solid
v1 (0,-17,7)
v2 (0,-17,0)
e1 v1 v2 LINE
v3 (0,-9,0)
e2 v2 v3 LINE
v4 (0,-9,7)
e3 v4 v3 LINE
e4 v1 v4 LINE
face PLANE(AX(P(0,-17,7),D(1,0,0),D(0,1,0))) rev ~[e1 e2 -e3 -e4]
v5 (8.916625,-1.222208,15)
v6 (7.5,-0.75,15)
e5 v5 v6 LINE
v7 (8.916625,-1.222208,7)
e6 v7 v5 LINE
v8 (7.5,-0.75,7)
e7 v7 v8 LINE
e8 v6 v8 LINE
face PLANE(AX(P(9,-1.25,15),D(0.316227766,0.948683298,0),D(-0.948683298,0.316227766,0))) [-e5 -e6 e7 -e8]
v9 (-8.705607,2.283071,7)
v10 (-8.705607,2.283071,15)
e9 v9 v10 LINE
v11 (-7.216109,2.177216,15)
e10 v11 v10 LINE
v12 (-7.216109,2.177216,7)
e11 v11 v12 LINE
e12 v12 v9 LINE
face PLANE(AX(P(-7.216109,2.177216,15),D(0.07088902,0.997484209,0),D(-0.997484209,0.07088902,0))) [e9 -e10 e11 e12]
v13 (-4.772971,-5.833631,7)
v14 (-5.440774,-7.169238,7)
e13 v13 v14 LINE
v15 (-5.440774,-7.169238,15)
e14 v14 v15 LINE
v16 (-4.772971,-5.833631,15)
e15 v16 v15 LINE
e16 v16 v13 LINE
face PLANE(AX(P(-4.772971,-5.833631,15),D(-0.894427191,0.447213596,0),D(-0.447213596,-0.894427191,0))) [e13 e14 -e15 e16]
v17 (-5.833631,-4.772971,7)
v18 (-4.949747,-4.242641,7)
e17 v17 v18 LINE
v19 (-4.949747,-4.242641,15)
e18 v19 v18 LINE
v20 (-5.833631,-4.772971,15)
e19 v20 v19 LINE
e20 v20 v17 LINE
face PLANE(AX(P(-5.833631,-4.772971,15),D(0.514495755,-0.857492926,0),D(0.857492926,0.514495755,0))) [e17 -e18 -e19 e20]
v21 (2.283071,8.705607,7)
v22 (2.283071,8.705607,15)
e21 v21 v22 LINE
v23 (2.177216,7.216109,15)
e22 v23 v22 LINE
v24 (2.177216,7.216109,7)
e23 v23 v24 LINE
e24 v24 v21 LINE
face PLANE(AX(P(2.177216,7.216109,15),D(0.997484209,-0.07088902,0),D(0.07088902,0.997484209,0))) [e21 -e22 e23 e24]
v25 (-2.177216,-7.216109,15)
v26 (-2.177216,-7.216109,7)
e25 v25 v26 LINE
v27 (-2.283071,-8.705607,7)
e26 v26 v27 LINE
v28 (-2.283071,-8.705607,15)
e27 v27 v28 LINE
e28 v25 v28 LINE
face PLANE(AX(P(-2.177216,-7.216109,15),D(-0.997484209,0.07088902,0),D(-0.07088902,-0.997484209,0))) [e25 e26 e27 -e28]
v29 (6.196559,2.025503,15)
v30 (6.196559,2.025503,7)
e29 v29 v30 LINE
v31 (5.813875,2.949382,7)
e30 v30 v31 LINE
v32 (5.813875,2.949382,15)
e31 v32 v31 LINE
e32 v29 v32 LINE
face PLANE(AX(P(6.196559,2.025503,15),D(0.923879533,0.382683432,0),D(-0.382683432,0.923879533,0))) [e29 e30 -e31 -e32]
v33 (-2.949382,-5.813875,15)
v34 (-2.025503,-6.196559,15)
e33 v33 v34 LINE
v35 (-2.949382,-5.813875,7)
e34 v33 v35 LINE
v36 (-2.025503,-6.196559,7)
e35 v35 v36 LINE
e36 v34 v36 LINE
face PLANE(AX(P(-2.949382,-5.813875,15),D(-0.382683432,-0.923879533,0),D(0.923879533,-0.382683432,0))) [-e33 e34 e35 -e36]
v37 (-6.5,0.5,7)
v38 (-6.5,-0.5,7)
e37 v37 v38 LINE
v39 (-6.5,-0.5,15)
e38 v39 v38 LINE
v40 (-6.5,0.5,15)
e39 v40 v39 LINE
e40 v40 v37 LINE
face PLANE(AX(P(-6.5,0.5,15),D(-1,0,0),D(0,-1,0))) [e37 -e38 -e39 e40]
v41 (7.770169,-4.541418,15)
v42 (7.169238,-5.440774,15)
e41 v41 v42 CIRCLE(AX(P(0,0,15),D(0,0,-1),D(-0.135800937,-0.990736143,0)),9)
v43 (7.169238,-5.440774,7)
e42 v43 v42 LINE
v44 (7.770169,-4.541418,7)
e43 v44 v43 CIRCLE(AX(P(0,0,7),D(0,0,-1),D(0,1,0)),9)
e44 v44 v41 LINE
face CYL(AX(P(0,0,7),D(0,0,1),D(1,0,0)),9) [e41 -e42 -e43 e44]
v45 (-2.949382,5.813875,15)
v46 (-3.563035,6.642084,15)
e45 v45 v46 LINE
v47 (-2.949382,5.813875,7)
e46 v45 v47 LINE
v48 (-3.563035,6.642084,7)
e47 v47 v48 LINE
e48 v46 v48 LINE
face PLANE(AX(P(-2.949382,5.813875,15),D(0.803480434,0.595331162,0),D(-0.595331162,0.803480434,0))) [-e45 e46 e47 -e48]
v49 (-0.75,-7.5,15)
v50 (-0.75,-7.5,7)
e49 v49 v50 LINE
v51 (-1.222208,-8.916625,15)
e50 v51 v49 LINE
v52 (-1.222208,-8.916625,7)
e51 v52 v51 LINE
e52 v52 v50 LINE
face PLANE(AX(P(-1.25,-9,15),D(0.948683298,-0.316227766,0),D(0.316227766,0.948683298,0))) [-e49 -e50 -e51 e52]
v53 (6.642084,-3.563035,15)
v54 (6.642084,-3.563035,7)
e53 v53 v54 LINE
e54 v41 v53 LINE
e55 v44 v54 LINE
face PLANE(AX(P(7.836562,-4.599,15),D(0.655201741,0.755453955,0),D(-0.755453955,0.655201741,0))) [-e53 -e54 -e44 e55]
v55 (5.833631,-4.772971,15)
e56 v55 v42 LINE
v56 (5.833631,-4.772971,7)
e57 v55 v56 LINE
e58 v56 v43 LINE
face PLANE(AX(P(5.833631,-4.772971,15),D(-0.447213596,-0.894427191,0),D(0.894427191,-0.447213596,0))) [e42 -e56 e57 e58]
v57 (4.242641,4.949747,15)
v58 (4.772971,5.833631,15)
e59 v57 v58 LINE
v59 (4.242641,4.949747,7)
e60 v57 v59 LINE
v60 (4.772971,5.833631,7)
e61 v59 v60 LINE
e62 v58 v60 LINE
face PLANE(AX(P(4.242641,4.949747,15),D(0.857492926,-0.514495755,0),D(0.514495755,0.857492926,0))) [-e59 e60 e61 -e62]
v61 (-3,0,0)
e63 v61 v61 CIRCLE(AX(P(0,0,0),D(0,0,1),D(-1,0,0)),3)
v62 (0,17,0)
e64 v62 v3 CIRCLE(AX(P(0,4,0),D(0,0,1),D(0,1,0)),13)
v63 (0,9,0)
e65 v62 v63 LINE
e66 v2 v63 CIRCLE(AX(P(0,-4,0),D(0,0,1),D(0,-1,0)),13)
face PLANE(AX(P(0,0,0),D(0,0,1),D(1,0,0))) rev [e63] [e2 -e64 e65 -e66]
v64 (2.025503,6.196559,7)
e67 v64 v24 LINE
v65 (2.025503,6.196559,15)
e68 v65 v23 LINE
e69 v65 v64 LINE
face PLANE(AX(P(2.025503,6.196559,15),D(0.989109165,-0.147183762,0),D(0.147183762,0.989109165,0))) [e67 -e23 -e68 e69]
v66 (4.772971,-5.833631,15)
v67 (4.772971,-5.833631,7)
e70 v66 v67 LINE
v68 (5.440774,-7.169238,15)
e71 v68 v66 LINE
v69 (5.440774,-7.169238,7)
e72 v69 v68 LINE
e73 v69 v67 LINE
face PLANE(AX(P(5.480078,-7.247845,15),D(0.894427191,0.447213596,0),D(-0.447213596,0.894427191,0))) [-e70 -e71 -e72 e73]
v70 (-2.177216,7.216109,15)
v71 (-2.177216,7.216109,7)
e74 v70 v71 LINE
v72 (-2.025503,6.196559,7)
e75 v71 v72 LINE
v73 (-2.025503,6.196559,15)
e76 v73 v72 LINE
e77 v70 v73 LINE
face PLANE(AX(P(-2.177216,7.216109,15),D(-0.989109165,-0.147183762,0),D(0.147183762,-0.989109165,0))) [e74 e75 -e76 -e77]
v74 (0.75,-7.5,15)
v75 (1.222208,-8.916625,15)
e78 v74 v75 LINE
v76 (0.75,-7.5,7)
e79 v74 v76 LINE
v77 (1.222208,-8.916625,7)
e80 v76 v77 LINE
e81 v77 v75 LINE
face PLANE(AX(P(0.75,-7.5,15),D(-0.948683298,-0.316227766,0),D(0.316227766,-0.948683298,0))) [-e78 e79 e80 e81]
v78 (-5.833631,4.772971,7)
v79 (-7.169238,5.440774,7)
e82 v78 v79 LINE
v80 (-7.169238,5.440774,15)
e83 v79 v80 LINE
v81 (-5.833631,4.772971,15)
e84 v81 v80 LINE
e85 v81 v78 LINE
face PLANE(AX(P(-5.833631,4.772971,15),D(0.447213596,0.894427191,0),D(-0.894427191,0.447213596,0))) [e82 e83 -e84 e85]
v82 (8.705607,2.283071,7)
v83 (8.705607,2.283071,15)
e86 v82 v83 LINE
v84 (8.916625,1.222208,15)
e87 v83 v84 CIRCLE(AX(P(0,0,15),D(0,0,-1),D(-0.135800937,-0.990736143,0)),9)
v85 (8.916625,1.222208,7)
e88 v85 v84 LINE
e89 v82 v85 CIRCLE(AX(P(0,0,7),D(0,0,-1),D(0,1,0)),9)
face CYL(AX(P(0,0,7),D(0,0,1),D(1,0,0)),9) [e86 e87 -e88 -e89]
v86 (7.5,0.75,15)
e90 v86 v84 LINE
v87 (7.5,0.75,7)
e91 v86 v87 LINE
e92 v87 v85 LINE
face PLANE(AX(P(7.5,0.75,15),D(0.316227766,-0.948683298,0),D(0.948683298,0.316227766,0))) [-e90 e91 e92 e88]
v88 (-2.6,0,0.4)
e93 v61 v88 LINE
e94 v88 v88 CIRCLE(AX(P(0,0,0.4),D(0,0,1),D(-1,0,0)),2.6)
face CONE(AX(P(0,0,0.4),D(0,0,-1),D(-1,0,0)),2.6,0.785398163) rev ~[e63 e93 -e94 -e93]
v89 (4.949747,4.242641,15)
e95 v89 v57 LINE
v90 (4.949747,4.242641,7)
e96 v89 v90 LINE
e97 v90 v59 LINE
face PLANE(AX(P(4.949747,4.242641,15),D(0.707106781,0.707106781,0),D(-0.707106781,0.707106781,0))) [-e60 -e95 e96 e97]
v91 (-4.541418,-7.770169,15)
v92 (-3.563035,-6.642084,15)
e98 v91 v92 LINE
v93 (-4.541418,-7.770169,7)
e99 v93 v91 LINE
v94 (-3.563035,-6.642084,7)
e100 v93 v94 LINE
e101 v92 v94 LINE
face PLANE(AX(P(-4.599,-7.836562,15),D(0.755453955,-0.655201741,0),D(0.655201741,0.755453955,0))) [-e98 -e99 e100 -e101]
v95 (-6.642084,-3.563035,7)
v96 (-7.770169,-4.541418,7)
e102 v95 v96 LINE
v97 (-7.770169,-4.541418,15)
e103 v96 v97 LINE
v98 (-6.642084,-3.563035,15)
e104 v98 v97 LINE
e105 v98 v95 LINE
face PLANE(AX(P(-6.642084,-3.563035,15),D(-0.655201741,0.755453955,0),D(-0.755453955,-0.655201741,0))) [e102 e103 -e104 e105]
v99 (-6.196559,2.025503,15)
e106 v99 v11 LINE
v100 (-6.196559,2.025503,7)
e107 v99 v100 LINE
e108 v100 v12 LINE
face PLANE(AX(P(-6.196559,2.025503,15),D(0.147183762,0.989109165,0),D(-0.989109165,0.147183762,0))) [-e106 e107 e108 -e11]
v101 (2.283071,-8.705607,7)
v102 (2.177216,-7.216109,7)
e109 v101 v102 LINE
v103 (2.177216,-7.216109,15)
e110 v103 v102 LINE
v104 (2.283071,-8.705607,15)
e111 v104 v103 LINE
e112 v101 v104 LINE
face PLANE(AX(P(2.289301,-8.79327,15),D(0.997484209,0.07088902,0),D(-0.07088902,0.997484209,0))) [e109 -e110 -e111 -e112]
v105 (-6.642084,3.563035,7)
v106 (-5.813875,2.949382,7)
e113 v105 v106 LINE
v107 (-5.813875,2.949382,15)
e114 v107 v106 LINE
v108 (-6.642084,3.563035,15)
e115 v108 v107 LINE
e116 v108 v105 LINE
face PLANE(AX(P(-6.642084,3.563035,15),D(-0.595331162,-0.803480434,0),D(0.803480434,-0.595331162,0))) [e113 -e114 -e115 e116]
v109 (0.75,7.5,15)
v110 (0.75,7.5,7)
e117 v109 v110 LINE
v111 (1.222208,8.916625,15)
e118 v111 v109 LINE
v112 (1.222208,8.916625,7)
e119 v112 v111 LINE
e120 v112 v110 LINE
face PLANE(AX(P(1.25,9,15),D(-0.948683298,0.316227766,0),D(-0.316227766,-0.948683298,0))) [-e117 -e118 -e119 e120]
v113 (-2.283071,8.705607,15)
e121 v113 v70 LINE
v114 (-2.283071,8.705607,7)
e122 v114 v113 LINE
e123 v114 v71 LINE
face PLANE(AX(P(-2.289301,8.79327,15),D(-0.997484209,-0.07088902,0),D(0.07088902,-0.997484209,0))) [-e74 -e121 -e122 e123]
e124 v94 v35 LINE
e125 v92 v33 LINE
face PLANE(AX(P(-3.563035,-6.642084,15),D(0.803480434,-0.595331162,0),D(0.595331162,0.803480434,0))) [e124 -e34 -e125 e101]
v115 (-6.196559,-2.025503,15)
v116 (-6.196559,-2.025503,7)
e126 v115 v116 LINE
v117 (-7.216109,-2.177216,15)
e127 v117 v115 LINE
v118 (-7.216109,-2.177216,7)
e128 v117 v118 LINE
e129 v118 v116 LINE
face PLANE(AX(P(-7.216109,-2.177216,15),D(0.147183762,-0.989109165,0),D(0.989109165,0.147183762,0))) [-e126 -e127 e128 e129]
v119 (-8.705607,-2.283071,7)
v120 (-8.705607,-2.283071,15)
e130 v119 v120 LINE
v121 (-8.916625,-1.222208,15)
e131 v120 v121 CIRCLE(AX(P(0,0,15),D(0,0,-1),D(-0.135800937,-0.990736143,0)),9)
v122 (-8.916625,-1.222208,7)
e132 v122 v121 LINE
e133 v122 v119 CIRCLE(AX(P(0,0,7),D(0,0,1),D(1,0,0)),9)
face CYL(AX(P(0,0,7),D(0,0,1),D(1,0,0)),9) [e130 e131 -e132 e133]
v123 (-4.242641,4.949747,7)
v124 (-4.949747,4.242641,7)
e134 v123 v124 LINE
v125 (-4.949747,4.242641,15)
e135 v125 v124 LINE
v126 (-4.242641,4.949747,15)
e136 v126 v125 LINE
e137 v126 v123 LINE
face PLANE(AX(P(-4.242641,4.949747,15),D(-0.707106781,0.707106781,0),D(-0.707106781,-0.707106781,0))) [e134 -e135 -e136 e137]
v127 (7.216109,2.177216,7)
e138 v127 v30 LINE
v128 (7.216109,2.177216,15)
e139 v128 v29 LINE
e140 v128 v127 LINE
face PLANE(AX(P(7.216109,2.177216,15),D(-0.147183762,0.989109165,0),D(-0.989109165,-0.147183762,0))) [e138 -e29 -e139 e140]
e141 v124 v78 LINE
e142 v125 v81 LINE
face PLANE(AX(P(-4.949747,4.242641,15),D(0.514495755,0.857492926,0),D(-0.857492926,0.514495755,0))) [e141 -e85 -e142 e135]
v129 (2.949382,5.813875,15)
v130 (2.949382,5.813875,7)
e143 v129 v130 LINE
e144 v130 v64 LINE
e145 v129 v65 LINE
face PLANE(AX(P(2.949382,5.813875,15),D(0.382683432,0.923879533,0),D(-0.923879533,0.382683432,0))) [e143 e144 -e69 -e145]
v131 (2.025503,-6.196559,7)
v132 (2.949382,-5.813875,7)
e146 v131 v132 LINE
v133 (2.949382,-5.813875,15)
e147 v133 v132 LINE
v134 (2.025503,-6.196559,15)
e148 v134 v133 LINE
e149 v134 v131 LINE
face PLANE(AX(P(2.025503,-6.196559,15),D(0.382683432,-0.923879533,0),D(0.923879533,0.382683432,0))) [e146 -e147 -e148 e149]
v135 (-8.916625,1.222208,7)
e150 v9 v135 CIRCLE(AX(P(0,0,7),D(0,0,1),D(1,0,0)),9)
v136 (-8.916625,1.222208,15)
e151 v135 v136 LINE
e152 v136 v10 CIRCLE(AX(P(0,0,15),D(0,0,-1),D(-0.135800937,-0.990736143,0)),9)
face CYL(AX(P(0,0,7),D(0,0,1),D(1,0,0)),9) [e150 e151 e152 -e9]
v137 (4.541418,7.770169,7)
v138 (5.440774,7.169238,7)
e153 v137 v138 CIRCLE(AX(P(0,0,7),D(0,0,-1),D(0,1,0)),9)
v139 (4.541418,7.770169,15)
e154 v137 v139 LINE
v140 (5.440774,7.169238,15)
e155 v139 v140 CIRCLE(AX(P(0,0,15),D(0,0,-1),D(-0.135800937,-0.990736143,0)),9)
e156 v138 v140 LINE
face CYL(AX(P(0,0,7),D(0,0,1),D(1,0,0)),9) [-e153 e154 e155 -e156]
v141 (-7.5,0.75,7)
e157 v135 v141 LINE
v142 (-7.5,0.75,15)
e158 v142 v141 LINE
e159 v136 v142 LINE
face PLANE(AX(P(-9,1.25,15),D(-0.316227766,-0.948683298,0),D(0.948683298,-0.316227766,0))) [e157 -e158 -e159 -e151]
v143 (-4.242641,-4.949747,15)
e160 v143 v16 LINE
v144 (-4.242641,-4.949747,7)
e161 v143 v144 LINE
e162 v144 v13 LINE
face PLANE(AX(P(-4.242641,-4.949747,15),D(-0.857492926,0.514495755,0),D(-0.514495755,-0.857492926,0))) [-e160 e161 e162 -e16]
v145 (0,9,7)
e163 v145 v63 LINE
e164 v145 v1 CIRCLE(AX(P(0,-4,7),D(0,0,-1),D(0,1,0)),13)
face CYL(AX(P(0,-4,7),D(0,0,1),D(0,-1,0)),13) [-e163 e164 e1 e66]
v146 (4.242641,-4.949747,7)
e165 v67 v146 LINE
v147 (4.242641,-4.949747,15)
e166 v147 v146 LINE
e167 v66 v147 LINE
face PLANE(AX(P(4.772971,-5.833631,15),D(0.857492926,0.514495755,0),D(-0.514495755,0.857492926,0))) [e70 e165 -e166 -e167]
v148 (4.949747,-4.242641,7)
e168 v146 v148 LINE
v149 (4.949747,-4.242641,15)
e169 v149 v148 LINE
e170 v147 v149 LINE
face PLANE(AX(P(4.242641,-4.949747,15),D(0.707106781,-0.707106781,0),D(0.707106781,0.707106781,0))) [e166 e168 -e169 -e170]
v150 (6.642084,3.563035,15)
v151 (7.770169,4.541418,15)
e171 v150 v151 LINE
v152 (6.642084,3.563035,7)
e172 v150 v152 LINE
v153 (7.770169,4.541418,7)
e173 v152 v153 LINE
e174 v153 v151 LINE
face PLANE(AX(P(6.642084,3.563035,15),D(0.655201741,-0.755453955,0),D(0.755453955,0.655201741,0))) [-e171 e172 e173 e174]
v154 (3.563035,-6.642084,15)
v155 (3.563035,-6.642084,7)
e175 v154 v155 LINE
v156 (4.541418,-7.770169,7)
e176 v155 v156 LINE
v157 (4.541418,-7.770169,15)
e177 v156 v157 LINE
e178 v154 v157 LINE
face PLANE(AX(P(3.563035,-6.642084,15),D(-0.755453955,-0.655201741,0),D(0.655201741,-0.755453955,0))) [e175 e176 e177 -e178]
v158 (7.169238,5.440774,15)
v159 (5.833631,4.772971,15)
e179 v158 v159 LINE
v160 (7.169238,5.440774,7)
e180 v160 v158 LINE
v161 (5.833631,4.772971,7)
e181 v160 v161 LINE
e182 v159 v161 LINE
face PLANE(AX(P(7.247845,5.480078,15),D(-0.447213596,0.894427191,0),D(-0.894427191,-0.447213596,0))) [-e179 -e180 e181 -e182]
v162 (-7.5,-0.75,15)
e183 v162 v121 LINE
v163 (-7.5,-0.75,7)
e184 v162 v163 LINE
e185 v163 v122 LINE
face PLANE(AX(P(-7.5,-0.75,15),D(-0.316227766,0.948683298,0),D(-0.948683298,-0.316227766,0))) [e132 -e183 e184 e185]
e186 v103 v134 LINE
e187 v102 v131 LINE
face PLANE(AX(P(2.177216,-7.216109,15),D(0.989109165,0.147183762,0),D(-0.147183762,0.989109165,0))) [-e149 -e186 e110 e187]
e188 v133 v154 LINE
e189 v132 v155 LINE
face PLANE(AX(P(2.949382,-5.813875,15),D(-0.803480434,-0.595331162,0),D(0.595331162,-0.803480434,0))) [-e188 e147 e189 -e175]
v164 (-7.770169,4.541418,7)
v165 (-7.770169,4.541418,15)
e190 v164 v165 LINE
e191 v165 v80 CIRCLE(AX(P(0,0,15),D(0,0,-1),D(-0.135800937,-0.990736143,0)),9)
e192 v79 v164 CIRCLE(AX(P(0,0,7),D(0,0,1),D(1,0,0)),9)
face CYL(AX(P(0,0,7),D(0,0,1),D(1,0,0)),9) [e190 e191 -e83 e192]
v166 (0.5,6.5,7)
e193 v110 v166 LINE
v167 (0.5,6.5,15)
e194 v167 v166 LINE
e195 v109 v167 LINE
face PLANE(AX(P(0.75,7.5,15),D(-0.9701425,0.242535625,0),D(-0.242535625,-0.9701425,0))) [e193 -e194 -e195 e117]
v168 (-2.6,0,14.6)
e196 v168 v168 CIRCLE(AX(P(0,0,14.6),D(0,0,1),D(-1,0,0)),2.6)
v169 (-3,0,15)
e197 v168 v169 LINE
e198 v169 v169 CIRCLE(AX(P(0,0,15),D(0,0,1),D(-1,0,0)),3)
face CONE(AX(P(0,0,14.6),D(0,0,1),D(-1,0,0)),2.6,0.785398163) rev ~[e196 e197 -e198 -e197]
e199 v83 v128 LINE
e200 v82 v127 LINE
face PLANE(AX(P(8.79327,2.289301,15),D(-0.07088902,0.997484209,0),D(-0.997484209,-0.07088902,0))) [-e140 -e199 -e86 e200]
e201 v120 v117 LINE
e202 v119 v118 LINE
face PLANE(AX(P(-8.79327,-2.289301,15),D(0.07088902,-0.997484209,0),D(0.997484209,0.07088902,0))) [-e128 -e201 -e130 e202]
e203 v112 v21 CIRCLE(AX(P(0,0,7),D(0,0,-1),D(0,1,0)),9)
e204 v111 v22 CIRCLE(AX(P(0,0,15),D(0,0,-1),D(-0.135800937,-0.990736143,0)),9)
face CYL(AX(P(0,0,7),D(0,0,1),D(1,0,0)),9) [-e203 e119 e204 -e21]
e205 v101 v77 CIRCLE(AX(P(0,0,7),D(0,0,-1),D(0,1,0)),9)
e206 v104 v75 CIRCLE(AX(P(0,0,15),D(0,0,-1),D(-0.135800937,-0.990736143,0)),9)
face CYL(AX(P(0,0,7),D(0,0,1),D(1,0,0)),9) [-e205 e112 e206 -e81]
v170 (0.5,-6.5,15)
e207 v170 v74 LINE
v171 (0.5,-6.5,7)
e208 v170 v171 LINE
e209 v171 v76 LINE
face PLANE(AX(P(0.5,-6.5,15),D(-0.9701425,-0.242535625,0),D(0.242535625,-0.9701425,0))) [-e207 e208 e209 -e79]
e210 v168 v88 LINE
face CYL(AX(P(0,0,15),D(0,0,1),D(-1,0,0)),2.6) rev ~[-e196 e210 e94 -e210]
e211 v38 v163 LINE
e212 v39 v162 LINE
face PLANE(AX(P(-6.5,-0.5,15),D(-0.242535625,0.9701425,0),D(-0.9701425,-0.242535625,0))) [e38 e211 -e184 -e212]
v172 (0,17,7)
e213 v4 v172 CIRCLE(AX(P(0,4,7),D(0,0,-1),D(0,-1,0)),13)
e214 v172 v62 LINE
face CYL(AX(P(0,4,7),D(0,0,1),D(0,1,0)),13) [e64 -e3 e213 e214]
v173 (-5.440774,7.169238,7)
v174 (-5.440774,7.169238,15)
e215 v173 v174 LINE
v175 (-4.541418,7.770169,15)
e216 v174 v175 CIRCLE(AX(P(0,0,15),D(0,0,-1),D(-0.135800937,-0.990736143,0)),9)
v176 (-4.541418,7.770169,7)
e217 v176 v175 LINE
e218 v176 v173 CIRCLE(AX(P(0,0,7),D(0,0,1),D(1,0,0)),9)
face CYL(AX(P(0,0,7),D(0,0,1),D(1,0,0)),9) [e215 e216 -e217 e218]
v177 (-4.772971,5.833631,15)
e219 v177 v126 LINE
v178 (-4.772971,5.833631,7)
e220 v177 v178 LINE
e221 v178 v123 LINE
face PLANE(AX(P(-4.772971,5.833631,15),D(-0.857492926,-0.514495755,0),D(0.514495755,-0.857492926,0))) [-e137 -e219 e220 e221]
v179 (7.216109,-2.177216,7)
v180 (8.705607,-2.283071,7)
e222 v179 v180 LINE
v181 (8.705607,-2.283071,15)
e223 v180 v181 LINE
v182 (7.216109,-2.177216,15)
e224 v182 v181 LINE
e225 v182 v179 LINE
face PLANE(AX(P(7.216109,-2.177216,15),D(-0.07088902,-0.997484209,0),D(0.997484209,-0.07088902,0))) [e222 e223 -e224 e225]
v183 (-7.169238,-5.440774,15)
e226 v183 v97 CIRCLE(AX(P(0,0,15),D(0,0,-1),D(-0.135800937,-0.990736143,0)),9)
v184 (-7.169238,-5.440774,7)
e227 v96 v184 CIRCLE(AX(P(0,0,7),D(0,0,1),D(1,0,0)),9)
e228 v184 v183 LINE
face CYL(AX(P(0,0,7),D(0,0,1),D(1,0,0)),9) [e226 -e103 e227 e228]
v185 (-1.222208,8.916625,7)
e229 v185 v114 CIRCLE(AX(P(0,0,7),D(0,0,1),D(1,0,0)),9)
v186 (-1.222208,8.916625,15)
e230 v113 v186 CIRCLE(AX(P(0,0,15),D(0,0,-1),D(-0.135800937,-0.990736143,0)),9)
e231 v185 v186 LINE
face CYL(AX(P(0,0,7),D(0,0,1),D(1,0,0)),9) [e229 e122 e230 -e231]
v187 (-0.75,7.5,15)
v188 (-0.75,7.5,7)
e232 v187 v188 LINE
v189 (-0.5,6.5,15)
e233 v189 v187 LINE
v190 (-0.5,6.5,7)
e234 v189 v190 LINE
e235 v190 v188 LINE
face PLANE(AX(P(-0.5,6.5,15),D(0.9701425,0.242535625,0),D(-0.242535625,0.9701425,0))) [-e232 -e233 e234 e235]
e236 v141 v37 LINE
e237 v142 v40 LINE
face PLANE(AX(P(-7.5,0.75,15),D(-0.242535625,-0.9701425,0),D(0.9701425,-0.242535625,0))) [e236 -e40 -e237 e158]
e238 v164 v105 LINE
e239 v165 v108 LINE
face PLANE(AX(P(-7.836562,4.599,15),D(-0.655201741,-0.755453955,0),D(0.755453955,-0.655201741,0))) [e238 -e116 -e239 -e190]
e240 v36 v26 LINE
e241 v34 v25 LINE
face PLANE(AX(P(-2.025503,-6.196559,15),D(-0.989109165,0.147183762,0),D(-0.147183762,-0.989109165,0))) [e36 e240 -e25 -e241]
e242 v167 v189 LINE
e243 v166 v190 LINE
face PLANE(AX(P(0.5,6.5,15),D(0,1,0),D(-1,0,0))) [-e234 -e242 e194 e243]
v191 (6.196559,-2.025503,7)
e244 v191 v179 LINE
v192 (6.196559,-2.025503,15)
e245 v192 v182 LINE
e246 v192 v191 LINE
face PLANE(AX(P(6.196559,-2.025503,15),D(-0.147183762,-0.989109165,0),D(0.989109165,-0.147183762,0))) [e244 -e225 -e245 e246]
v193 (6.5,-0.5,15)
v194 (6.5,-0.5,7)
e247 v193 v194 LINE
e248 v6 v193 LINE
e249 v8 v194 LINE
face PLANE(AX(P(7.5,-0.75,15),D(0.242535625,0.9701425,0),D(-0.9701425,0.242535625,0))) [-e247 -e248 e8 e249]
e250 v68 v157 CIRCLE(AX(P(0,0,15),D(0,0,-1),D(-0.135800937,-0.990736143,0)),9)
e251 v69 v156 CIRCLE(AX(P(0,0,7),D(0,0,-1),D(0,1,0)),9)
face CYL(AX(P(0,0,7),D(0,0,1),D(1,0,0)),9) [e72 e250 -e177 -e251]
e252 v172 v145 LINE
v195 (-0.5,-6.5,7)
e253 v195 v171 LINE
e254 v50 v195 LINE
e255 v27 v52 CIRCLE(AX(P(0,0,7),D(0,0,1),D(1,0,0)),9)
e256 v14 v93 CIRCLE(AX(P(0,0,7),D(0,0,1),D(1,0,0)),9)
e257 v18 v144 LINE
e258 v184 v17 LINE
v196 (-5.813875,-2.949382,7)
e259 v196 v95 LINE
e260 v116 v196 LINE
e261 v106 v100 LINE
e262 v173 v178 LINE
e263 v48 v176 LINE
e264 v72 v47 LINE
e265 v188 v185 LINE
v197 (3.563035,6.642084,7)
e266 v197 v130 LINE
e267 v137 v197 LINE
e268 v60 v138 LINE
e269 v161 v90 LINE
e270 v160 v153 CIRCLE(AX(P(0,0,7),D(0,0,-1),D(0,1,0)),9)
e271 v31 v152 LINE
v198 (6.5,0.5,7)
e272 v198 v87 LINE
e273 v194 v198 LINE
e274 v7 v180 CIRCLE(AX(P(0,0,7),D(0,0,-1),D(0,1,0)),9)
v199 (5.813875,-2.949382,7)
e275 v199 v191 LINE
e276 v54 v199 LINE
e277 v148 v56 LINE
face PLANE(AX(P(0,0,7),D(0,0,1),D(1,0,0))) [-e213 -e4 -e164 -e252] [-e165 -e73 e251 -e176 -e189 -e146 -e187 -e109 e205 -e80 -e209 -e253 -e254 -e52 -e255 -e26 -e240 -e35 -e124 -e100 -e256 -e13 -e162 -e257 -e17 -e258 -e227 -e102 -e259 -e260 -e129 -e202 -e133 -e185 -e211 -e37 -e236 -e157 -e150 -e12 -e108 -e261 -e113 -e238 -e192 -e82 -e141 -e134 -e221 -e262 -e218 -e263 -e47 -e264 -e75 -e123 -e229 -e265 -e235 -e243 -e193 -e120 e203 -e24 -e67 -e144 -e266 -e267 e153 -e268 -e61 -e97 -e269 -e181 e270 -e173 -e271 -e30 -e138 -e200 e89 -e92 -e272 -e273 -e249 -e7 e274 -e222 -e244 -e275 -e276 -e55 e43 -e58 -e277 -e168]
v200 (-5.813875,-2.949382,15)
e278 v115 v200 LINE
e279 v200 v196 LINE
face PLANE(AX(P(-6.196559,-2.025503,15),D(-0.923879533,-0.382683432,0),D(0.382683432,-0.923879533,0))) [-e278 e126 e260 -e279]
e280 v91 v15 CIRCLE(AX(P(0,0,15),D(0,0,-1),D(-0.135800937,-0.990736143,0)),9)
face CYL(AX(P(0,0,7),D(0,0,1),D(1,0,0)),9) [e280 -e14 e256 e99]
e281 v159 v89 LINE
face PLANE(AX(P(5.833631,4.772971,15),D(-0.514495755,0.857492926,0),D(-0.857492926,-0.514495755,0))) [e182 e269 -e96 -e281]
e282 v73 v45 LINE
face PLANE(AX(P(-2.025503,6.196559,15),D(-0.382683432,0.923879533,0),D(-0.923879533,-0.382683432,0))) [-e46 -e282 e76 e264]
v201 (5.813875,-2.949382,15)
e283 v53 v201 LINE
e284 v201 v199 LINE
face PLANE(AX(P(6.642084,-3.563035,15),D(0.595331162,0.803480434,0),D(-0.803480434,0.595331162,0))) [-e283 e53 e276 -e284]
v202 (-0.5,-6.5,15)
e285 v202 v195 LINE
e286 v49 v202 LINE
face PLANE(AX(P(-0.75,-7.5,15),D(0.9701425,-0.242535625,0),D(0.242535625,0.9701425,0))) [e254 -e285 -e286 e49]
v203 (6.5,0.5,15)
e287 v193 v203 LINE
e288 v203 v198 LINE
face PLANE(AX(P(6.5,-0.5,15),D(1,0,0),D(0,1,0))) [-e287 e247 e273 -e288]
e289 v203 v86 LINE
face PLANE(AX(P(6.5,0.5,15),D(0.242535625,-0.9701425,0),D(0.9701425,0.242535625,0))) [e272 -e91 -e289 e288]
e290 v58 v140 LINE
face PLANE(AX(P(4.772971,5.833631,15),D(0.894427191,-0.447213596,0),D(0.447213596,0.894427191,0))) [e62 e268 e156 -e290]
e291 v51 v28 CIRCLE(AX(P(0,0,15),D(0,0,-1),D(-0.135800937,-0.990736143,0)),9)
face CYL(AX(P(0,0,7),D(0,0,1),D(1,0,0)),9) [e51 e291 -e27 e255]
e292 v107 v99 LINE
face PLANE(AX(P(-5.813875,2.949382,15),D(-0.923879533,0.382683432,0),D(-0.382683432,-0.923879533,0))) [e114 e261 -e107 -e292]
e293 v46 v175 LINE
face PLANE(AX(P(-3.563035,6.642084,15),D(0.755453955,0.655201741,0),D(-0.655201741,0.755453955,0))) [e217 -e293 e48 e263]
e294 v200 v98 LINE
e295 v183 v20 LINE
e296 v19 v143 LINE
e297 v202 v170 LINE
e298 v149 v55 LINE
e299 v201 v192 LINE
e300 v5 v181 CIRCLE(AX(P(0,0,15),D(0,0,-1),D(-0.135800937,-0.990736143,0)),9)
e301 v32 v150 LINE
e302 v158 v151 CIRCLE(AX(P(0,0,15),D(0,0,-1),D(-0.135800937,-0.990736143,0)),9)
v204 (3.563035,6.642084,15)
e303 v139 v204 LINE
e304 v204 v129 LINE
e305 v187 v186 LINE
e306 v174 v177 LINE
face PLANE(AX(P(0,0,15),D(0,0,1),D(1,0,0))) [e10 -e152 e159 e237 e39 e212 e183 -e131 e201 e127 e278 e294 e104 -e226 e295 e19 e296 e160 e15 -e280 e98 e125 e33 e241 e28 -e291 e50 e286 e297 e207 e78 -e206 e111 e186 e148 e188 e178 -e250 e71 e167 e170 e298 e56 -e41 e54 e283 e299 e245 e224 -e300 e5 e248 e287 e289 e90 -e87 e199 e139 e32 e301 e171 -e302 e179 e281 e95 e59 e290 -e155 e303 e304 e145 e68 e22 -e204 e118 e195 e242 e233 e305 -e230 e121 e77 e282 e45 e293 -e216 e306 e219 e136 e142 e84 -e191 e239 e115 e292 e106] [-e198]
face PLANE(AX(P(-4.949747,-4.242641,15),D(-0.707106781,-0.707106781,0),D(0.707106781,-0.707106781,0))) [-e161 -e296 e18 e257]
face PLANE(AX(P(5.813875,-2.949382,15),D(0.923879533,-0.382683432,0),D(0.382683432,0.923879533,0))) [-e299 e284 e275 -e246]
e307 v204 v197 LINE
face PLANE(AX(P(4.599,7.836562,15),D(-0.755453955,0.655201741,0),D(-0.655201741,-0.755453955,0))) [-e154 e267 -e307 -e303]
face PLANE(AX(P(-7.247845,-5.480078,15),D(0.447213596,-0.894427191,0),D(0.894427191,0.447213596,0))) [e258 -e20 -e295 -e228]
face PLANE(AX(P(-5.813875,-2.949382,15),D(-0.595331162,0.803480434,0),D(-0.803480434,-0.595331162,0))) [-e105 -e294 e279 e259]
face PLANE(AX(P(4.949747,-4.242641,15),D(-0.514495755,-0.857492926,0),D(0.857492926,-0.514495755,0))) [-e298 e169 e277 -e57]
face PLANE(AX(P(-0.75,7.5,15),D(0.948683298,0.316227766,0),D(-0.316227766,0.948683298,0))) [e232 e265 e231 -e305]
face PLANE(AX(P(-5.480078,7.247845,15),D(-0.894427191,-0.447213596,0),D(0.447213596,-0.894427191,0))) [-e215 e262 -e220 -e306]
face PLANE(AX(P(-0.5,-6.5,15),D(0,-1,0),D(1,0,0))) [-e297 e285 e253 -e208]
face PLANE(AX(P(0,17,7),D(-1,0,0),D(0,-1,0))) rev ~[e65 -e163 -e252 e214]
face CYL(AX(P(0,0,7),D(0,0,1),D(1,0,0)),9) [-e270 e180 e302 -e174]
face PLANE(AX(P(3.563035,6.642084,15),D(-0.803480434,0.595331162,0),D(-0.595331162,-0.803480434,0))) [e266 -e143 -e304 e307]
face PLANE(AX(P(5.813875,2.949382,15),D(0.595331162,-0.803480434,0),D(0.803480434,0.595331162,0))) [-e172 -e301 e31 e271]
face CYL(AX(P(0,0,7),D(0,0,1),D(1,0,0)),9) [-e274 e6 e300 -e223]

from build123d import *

# Parameters (mm, degrees)
POCKET_DEPTH          = 7
POLARPATTERN_COUNT    = 2
POCKET001_DEPTH       = 8
POLARPATTERN001_COUNT = 16
SKETCH003_R           = 2.6
POCKET002_DEPTH       = 15
CHAMFER_SIZE          = 0.4


with BuildPart() as part:
    # Sketch → Revolution (revolve)
    with BuildSketch(Plane.XZ):
        Polygon((0, 0), (17, 0), (17, 7), (9, 7), (9, 15), (0, 15), align=None)
    revolve(axis=Axis((0, 0, 0), (0, 0, 1)))

    # Sketch001 (on Face3 of Revolution) → Pocket (cut)
    with BuildSketch(Plane(origin=(0, 0, 7), x_dir=(-1, 0, 0), z_dir=(0, 0, 1))):
        with BuildLine():
            Line((0, 17), (17, 17))
            Line((17, 17), (17, -17))
            Line((17, -17), (0, -17))
            ThreePointArc((0, -17), (13, -4), (0, 9))
            Line((0, 17), (0, 9))
        make_face()
    pocket = extrude(amount=-POCKET_DEPTH, mode=Mode.SUBTRACT)

    # PolarPattern: Pocket ×2 about axis
    polarpattern_axis = Axis((0, 0, 7), (0, 0, 1))
    for i in range(1, POLARPATTERN_COUNT):
        add(pocket.rotate(polarpattern_axis, i * 360 / POLARPATTERN_COUNT), mode=Mode.SUBTRACT)

    # Sketch002 (on Face5 of Revolution) → Pocket001 (cut)
    with BuildSketch(Plane(origin=(0, 0, 15), x_dir=(-1, 0, 0), z_dir=(0, 0, 1))):
        Polygon((-1.25, 9), (1.25, 9), (0.75, 7.5), (0.5, 6.5), (-0.5, 6.5), (-0.75, 7.5), align=None)
    pocket001 = extrude(amount=-POCKET001_DEPTH, mode=Mode.SUBTRACT)

    # PolarPattern001: Pocket001 ×16 about axis
    polarpattern001_axis = Axis((0, 0, 15), (0, 0, 1))
    for i in range(1, POLARPATTERN001_COUNT):
        add(pocket001.rotate(polarpattern001_axis, i * 360 / POLARPATTERN001_COUNT), mode=Mode.SUBTRACT)

    # Sketch003 (on Face5 of Revolution) → Pocket002 (cut)
    with BuildSketch(Plane(origin=(0, 0, 15), x_dir=(-1, 0, 0), z_dir=(0, 0, 1))):
        Circle(SKETCH003_R)
    extrude(amount=-POCKET002_DEPTH, mode=Mode.SUBTRACT)

    # Chamfer
    chamfer_edges = [part.edges().sort_by_distance(p)[0] for p in [
        (-2.6, 0, 7.5),
        (2.6, 0, 15),
        (2.6, 0, 0),
    ]]
    chamfer(chamfer_edges, length=CHAMFER_SIZE)


solid = part.part
